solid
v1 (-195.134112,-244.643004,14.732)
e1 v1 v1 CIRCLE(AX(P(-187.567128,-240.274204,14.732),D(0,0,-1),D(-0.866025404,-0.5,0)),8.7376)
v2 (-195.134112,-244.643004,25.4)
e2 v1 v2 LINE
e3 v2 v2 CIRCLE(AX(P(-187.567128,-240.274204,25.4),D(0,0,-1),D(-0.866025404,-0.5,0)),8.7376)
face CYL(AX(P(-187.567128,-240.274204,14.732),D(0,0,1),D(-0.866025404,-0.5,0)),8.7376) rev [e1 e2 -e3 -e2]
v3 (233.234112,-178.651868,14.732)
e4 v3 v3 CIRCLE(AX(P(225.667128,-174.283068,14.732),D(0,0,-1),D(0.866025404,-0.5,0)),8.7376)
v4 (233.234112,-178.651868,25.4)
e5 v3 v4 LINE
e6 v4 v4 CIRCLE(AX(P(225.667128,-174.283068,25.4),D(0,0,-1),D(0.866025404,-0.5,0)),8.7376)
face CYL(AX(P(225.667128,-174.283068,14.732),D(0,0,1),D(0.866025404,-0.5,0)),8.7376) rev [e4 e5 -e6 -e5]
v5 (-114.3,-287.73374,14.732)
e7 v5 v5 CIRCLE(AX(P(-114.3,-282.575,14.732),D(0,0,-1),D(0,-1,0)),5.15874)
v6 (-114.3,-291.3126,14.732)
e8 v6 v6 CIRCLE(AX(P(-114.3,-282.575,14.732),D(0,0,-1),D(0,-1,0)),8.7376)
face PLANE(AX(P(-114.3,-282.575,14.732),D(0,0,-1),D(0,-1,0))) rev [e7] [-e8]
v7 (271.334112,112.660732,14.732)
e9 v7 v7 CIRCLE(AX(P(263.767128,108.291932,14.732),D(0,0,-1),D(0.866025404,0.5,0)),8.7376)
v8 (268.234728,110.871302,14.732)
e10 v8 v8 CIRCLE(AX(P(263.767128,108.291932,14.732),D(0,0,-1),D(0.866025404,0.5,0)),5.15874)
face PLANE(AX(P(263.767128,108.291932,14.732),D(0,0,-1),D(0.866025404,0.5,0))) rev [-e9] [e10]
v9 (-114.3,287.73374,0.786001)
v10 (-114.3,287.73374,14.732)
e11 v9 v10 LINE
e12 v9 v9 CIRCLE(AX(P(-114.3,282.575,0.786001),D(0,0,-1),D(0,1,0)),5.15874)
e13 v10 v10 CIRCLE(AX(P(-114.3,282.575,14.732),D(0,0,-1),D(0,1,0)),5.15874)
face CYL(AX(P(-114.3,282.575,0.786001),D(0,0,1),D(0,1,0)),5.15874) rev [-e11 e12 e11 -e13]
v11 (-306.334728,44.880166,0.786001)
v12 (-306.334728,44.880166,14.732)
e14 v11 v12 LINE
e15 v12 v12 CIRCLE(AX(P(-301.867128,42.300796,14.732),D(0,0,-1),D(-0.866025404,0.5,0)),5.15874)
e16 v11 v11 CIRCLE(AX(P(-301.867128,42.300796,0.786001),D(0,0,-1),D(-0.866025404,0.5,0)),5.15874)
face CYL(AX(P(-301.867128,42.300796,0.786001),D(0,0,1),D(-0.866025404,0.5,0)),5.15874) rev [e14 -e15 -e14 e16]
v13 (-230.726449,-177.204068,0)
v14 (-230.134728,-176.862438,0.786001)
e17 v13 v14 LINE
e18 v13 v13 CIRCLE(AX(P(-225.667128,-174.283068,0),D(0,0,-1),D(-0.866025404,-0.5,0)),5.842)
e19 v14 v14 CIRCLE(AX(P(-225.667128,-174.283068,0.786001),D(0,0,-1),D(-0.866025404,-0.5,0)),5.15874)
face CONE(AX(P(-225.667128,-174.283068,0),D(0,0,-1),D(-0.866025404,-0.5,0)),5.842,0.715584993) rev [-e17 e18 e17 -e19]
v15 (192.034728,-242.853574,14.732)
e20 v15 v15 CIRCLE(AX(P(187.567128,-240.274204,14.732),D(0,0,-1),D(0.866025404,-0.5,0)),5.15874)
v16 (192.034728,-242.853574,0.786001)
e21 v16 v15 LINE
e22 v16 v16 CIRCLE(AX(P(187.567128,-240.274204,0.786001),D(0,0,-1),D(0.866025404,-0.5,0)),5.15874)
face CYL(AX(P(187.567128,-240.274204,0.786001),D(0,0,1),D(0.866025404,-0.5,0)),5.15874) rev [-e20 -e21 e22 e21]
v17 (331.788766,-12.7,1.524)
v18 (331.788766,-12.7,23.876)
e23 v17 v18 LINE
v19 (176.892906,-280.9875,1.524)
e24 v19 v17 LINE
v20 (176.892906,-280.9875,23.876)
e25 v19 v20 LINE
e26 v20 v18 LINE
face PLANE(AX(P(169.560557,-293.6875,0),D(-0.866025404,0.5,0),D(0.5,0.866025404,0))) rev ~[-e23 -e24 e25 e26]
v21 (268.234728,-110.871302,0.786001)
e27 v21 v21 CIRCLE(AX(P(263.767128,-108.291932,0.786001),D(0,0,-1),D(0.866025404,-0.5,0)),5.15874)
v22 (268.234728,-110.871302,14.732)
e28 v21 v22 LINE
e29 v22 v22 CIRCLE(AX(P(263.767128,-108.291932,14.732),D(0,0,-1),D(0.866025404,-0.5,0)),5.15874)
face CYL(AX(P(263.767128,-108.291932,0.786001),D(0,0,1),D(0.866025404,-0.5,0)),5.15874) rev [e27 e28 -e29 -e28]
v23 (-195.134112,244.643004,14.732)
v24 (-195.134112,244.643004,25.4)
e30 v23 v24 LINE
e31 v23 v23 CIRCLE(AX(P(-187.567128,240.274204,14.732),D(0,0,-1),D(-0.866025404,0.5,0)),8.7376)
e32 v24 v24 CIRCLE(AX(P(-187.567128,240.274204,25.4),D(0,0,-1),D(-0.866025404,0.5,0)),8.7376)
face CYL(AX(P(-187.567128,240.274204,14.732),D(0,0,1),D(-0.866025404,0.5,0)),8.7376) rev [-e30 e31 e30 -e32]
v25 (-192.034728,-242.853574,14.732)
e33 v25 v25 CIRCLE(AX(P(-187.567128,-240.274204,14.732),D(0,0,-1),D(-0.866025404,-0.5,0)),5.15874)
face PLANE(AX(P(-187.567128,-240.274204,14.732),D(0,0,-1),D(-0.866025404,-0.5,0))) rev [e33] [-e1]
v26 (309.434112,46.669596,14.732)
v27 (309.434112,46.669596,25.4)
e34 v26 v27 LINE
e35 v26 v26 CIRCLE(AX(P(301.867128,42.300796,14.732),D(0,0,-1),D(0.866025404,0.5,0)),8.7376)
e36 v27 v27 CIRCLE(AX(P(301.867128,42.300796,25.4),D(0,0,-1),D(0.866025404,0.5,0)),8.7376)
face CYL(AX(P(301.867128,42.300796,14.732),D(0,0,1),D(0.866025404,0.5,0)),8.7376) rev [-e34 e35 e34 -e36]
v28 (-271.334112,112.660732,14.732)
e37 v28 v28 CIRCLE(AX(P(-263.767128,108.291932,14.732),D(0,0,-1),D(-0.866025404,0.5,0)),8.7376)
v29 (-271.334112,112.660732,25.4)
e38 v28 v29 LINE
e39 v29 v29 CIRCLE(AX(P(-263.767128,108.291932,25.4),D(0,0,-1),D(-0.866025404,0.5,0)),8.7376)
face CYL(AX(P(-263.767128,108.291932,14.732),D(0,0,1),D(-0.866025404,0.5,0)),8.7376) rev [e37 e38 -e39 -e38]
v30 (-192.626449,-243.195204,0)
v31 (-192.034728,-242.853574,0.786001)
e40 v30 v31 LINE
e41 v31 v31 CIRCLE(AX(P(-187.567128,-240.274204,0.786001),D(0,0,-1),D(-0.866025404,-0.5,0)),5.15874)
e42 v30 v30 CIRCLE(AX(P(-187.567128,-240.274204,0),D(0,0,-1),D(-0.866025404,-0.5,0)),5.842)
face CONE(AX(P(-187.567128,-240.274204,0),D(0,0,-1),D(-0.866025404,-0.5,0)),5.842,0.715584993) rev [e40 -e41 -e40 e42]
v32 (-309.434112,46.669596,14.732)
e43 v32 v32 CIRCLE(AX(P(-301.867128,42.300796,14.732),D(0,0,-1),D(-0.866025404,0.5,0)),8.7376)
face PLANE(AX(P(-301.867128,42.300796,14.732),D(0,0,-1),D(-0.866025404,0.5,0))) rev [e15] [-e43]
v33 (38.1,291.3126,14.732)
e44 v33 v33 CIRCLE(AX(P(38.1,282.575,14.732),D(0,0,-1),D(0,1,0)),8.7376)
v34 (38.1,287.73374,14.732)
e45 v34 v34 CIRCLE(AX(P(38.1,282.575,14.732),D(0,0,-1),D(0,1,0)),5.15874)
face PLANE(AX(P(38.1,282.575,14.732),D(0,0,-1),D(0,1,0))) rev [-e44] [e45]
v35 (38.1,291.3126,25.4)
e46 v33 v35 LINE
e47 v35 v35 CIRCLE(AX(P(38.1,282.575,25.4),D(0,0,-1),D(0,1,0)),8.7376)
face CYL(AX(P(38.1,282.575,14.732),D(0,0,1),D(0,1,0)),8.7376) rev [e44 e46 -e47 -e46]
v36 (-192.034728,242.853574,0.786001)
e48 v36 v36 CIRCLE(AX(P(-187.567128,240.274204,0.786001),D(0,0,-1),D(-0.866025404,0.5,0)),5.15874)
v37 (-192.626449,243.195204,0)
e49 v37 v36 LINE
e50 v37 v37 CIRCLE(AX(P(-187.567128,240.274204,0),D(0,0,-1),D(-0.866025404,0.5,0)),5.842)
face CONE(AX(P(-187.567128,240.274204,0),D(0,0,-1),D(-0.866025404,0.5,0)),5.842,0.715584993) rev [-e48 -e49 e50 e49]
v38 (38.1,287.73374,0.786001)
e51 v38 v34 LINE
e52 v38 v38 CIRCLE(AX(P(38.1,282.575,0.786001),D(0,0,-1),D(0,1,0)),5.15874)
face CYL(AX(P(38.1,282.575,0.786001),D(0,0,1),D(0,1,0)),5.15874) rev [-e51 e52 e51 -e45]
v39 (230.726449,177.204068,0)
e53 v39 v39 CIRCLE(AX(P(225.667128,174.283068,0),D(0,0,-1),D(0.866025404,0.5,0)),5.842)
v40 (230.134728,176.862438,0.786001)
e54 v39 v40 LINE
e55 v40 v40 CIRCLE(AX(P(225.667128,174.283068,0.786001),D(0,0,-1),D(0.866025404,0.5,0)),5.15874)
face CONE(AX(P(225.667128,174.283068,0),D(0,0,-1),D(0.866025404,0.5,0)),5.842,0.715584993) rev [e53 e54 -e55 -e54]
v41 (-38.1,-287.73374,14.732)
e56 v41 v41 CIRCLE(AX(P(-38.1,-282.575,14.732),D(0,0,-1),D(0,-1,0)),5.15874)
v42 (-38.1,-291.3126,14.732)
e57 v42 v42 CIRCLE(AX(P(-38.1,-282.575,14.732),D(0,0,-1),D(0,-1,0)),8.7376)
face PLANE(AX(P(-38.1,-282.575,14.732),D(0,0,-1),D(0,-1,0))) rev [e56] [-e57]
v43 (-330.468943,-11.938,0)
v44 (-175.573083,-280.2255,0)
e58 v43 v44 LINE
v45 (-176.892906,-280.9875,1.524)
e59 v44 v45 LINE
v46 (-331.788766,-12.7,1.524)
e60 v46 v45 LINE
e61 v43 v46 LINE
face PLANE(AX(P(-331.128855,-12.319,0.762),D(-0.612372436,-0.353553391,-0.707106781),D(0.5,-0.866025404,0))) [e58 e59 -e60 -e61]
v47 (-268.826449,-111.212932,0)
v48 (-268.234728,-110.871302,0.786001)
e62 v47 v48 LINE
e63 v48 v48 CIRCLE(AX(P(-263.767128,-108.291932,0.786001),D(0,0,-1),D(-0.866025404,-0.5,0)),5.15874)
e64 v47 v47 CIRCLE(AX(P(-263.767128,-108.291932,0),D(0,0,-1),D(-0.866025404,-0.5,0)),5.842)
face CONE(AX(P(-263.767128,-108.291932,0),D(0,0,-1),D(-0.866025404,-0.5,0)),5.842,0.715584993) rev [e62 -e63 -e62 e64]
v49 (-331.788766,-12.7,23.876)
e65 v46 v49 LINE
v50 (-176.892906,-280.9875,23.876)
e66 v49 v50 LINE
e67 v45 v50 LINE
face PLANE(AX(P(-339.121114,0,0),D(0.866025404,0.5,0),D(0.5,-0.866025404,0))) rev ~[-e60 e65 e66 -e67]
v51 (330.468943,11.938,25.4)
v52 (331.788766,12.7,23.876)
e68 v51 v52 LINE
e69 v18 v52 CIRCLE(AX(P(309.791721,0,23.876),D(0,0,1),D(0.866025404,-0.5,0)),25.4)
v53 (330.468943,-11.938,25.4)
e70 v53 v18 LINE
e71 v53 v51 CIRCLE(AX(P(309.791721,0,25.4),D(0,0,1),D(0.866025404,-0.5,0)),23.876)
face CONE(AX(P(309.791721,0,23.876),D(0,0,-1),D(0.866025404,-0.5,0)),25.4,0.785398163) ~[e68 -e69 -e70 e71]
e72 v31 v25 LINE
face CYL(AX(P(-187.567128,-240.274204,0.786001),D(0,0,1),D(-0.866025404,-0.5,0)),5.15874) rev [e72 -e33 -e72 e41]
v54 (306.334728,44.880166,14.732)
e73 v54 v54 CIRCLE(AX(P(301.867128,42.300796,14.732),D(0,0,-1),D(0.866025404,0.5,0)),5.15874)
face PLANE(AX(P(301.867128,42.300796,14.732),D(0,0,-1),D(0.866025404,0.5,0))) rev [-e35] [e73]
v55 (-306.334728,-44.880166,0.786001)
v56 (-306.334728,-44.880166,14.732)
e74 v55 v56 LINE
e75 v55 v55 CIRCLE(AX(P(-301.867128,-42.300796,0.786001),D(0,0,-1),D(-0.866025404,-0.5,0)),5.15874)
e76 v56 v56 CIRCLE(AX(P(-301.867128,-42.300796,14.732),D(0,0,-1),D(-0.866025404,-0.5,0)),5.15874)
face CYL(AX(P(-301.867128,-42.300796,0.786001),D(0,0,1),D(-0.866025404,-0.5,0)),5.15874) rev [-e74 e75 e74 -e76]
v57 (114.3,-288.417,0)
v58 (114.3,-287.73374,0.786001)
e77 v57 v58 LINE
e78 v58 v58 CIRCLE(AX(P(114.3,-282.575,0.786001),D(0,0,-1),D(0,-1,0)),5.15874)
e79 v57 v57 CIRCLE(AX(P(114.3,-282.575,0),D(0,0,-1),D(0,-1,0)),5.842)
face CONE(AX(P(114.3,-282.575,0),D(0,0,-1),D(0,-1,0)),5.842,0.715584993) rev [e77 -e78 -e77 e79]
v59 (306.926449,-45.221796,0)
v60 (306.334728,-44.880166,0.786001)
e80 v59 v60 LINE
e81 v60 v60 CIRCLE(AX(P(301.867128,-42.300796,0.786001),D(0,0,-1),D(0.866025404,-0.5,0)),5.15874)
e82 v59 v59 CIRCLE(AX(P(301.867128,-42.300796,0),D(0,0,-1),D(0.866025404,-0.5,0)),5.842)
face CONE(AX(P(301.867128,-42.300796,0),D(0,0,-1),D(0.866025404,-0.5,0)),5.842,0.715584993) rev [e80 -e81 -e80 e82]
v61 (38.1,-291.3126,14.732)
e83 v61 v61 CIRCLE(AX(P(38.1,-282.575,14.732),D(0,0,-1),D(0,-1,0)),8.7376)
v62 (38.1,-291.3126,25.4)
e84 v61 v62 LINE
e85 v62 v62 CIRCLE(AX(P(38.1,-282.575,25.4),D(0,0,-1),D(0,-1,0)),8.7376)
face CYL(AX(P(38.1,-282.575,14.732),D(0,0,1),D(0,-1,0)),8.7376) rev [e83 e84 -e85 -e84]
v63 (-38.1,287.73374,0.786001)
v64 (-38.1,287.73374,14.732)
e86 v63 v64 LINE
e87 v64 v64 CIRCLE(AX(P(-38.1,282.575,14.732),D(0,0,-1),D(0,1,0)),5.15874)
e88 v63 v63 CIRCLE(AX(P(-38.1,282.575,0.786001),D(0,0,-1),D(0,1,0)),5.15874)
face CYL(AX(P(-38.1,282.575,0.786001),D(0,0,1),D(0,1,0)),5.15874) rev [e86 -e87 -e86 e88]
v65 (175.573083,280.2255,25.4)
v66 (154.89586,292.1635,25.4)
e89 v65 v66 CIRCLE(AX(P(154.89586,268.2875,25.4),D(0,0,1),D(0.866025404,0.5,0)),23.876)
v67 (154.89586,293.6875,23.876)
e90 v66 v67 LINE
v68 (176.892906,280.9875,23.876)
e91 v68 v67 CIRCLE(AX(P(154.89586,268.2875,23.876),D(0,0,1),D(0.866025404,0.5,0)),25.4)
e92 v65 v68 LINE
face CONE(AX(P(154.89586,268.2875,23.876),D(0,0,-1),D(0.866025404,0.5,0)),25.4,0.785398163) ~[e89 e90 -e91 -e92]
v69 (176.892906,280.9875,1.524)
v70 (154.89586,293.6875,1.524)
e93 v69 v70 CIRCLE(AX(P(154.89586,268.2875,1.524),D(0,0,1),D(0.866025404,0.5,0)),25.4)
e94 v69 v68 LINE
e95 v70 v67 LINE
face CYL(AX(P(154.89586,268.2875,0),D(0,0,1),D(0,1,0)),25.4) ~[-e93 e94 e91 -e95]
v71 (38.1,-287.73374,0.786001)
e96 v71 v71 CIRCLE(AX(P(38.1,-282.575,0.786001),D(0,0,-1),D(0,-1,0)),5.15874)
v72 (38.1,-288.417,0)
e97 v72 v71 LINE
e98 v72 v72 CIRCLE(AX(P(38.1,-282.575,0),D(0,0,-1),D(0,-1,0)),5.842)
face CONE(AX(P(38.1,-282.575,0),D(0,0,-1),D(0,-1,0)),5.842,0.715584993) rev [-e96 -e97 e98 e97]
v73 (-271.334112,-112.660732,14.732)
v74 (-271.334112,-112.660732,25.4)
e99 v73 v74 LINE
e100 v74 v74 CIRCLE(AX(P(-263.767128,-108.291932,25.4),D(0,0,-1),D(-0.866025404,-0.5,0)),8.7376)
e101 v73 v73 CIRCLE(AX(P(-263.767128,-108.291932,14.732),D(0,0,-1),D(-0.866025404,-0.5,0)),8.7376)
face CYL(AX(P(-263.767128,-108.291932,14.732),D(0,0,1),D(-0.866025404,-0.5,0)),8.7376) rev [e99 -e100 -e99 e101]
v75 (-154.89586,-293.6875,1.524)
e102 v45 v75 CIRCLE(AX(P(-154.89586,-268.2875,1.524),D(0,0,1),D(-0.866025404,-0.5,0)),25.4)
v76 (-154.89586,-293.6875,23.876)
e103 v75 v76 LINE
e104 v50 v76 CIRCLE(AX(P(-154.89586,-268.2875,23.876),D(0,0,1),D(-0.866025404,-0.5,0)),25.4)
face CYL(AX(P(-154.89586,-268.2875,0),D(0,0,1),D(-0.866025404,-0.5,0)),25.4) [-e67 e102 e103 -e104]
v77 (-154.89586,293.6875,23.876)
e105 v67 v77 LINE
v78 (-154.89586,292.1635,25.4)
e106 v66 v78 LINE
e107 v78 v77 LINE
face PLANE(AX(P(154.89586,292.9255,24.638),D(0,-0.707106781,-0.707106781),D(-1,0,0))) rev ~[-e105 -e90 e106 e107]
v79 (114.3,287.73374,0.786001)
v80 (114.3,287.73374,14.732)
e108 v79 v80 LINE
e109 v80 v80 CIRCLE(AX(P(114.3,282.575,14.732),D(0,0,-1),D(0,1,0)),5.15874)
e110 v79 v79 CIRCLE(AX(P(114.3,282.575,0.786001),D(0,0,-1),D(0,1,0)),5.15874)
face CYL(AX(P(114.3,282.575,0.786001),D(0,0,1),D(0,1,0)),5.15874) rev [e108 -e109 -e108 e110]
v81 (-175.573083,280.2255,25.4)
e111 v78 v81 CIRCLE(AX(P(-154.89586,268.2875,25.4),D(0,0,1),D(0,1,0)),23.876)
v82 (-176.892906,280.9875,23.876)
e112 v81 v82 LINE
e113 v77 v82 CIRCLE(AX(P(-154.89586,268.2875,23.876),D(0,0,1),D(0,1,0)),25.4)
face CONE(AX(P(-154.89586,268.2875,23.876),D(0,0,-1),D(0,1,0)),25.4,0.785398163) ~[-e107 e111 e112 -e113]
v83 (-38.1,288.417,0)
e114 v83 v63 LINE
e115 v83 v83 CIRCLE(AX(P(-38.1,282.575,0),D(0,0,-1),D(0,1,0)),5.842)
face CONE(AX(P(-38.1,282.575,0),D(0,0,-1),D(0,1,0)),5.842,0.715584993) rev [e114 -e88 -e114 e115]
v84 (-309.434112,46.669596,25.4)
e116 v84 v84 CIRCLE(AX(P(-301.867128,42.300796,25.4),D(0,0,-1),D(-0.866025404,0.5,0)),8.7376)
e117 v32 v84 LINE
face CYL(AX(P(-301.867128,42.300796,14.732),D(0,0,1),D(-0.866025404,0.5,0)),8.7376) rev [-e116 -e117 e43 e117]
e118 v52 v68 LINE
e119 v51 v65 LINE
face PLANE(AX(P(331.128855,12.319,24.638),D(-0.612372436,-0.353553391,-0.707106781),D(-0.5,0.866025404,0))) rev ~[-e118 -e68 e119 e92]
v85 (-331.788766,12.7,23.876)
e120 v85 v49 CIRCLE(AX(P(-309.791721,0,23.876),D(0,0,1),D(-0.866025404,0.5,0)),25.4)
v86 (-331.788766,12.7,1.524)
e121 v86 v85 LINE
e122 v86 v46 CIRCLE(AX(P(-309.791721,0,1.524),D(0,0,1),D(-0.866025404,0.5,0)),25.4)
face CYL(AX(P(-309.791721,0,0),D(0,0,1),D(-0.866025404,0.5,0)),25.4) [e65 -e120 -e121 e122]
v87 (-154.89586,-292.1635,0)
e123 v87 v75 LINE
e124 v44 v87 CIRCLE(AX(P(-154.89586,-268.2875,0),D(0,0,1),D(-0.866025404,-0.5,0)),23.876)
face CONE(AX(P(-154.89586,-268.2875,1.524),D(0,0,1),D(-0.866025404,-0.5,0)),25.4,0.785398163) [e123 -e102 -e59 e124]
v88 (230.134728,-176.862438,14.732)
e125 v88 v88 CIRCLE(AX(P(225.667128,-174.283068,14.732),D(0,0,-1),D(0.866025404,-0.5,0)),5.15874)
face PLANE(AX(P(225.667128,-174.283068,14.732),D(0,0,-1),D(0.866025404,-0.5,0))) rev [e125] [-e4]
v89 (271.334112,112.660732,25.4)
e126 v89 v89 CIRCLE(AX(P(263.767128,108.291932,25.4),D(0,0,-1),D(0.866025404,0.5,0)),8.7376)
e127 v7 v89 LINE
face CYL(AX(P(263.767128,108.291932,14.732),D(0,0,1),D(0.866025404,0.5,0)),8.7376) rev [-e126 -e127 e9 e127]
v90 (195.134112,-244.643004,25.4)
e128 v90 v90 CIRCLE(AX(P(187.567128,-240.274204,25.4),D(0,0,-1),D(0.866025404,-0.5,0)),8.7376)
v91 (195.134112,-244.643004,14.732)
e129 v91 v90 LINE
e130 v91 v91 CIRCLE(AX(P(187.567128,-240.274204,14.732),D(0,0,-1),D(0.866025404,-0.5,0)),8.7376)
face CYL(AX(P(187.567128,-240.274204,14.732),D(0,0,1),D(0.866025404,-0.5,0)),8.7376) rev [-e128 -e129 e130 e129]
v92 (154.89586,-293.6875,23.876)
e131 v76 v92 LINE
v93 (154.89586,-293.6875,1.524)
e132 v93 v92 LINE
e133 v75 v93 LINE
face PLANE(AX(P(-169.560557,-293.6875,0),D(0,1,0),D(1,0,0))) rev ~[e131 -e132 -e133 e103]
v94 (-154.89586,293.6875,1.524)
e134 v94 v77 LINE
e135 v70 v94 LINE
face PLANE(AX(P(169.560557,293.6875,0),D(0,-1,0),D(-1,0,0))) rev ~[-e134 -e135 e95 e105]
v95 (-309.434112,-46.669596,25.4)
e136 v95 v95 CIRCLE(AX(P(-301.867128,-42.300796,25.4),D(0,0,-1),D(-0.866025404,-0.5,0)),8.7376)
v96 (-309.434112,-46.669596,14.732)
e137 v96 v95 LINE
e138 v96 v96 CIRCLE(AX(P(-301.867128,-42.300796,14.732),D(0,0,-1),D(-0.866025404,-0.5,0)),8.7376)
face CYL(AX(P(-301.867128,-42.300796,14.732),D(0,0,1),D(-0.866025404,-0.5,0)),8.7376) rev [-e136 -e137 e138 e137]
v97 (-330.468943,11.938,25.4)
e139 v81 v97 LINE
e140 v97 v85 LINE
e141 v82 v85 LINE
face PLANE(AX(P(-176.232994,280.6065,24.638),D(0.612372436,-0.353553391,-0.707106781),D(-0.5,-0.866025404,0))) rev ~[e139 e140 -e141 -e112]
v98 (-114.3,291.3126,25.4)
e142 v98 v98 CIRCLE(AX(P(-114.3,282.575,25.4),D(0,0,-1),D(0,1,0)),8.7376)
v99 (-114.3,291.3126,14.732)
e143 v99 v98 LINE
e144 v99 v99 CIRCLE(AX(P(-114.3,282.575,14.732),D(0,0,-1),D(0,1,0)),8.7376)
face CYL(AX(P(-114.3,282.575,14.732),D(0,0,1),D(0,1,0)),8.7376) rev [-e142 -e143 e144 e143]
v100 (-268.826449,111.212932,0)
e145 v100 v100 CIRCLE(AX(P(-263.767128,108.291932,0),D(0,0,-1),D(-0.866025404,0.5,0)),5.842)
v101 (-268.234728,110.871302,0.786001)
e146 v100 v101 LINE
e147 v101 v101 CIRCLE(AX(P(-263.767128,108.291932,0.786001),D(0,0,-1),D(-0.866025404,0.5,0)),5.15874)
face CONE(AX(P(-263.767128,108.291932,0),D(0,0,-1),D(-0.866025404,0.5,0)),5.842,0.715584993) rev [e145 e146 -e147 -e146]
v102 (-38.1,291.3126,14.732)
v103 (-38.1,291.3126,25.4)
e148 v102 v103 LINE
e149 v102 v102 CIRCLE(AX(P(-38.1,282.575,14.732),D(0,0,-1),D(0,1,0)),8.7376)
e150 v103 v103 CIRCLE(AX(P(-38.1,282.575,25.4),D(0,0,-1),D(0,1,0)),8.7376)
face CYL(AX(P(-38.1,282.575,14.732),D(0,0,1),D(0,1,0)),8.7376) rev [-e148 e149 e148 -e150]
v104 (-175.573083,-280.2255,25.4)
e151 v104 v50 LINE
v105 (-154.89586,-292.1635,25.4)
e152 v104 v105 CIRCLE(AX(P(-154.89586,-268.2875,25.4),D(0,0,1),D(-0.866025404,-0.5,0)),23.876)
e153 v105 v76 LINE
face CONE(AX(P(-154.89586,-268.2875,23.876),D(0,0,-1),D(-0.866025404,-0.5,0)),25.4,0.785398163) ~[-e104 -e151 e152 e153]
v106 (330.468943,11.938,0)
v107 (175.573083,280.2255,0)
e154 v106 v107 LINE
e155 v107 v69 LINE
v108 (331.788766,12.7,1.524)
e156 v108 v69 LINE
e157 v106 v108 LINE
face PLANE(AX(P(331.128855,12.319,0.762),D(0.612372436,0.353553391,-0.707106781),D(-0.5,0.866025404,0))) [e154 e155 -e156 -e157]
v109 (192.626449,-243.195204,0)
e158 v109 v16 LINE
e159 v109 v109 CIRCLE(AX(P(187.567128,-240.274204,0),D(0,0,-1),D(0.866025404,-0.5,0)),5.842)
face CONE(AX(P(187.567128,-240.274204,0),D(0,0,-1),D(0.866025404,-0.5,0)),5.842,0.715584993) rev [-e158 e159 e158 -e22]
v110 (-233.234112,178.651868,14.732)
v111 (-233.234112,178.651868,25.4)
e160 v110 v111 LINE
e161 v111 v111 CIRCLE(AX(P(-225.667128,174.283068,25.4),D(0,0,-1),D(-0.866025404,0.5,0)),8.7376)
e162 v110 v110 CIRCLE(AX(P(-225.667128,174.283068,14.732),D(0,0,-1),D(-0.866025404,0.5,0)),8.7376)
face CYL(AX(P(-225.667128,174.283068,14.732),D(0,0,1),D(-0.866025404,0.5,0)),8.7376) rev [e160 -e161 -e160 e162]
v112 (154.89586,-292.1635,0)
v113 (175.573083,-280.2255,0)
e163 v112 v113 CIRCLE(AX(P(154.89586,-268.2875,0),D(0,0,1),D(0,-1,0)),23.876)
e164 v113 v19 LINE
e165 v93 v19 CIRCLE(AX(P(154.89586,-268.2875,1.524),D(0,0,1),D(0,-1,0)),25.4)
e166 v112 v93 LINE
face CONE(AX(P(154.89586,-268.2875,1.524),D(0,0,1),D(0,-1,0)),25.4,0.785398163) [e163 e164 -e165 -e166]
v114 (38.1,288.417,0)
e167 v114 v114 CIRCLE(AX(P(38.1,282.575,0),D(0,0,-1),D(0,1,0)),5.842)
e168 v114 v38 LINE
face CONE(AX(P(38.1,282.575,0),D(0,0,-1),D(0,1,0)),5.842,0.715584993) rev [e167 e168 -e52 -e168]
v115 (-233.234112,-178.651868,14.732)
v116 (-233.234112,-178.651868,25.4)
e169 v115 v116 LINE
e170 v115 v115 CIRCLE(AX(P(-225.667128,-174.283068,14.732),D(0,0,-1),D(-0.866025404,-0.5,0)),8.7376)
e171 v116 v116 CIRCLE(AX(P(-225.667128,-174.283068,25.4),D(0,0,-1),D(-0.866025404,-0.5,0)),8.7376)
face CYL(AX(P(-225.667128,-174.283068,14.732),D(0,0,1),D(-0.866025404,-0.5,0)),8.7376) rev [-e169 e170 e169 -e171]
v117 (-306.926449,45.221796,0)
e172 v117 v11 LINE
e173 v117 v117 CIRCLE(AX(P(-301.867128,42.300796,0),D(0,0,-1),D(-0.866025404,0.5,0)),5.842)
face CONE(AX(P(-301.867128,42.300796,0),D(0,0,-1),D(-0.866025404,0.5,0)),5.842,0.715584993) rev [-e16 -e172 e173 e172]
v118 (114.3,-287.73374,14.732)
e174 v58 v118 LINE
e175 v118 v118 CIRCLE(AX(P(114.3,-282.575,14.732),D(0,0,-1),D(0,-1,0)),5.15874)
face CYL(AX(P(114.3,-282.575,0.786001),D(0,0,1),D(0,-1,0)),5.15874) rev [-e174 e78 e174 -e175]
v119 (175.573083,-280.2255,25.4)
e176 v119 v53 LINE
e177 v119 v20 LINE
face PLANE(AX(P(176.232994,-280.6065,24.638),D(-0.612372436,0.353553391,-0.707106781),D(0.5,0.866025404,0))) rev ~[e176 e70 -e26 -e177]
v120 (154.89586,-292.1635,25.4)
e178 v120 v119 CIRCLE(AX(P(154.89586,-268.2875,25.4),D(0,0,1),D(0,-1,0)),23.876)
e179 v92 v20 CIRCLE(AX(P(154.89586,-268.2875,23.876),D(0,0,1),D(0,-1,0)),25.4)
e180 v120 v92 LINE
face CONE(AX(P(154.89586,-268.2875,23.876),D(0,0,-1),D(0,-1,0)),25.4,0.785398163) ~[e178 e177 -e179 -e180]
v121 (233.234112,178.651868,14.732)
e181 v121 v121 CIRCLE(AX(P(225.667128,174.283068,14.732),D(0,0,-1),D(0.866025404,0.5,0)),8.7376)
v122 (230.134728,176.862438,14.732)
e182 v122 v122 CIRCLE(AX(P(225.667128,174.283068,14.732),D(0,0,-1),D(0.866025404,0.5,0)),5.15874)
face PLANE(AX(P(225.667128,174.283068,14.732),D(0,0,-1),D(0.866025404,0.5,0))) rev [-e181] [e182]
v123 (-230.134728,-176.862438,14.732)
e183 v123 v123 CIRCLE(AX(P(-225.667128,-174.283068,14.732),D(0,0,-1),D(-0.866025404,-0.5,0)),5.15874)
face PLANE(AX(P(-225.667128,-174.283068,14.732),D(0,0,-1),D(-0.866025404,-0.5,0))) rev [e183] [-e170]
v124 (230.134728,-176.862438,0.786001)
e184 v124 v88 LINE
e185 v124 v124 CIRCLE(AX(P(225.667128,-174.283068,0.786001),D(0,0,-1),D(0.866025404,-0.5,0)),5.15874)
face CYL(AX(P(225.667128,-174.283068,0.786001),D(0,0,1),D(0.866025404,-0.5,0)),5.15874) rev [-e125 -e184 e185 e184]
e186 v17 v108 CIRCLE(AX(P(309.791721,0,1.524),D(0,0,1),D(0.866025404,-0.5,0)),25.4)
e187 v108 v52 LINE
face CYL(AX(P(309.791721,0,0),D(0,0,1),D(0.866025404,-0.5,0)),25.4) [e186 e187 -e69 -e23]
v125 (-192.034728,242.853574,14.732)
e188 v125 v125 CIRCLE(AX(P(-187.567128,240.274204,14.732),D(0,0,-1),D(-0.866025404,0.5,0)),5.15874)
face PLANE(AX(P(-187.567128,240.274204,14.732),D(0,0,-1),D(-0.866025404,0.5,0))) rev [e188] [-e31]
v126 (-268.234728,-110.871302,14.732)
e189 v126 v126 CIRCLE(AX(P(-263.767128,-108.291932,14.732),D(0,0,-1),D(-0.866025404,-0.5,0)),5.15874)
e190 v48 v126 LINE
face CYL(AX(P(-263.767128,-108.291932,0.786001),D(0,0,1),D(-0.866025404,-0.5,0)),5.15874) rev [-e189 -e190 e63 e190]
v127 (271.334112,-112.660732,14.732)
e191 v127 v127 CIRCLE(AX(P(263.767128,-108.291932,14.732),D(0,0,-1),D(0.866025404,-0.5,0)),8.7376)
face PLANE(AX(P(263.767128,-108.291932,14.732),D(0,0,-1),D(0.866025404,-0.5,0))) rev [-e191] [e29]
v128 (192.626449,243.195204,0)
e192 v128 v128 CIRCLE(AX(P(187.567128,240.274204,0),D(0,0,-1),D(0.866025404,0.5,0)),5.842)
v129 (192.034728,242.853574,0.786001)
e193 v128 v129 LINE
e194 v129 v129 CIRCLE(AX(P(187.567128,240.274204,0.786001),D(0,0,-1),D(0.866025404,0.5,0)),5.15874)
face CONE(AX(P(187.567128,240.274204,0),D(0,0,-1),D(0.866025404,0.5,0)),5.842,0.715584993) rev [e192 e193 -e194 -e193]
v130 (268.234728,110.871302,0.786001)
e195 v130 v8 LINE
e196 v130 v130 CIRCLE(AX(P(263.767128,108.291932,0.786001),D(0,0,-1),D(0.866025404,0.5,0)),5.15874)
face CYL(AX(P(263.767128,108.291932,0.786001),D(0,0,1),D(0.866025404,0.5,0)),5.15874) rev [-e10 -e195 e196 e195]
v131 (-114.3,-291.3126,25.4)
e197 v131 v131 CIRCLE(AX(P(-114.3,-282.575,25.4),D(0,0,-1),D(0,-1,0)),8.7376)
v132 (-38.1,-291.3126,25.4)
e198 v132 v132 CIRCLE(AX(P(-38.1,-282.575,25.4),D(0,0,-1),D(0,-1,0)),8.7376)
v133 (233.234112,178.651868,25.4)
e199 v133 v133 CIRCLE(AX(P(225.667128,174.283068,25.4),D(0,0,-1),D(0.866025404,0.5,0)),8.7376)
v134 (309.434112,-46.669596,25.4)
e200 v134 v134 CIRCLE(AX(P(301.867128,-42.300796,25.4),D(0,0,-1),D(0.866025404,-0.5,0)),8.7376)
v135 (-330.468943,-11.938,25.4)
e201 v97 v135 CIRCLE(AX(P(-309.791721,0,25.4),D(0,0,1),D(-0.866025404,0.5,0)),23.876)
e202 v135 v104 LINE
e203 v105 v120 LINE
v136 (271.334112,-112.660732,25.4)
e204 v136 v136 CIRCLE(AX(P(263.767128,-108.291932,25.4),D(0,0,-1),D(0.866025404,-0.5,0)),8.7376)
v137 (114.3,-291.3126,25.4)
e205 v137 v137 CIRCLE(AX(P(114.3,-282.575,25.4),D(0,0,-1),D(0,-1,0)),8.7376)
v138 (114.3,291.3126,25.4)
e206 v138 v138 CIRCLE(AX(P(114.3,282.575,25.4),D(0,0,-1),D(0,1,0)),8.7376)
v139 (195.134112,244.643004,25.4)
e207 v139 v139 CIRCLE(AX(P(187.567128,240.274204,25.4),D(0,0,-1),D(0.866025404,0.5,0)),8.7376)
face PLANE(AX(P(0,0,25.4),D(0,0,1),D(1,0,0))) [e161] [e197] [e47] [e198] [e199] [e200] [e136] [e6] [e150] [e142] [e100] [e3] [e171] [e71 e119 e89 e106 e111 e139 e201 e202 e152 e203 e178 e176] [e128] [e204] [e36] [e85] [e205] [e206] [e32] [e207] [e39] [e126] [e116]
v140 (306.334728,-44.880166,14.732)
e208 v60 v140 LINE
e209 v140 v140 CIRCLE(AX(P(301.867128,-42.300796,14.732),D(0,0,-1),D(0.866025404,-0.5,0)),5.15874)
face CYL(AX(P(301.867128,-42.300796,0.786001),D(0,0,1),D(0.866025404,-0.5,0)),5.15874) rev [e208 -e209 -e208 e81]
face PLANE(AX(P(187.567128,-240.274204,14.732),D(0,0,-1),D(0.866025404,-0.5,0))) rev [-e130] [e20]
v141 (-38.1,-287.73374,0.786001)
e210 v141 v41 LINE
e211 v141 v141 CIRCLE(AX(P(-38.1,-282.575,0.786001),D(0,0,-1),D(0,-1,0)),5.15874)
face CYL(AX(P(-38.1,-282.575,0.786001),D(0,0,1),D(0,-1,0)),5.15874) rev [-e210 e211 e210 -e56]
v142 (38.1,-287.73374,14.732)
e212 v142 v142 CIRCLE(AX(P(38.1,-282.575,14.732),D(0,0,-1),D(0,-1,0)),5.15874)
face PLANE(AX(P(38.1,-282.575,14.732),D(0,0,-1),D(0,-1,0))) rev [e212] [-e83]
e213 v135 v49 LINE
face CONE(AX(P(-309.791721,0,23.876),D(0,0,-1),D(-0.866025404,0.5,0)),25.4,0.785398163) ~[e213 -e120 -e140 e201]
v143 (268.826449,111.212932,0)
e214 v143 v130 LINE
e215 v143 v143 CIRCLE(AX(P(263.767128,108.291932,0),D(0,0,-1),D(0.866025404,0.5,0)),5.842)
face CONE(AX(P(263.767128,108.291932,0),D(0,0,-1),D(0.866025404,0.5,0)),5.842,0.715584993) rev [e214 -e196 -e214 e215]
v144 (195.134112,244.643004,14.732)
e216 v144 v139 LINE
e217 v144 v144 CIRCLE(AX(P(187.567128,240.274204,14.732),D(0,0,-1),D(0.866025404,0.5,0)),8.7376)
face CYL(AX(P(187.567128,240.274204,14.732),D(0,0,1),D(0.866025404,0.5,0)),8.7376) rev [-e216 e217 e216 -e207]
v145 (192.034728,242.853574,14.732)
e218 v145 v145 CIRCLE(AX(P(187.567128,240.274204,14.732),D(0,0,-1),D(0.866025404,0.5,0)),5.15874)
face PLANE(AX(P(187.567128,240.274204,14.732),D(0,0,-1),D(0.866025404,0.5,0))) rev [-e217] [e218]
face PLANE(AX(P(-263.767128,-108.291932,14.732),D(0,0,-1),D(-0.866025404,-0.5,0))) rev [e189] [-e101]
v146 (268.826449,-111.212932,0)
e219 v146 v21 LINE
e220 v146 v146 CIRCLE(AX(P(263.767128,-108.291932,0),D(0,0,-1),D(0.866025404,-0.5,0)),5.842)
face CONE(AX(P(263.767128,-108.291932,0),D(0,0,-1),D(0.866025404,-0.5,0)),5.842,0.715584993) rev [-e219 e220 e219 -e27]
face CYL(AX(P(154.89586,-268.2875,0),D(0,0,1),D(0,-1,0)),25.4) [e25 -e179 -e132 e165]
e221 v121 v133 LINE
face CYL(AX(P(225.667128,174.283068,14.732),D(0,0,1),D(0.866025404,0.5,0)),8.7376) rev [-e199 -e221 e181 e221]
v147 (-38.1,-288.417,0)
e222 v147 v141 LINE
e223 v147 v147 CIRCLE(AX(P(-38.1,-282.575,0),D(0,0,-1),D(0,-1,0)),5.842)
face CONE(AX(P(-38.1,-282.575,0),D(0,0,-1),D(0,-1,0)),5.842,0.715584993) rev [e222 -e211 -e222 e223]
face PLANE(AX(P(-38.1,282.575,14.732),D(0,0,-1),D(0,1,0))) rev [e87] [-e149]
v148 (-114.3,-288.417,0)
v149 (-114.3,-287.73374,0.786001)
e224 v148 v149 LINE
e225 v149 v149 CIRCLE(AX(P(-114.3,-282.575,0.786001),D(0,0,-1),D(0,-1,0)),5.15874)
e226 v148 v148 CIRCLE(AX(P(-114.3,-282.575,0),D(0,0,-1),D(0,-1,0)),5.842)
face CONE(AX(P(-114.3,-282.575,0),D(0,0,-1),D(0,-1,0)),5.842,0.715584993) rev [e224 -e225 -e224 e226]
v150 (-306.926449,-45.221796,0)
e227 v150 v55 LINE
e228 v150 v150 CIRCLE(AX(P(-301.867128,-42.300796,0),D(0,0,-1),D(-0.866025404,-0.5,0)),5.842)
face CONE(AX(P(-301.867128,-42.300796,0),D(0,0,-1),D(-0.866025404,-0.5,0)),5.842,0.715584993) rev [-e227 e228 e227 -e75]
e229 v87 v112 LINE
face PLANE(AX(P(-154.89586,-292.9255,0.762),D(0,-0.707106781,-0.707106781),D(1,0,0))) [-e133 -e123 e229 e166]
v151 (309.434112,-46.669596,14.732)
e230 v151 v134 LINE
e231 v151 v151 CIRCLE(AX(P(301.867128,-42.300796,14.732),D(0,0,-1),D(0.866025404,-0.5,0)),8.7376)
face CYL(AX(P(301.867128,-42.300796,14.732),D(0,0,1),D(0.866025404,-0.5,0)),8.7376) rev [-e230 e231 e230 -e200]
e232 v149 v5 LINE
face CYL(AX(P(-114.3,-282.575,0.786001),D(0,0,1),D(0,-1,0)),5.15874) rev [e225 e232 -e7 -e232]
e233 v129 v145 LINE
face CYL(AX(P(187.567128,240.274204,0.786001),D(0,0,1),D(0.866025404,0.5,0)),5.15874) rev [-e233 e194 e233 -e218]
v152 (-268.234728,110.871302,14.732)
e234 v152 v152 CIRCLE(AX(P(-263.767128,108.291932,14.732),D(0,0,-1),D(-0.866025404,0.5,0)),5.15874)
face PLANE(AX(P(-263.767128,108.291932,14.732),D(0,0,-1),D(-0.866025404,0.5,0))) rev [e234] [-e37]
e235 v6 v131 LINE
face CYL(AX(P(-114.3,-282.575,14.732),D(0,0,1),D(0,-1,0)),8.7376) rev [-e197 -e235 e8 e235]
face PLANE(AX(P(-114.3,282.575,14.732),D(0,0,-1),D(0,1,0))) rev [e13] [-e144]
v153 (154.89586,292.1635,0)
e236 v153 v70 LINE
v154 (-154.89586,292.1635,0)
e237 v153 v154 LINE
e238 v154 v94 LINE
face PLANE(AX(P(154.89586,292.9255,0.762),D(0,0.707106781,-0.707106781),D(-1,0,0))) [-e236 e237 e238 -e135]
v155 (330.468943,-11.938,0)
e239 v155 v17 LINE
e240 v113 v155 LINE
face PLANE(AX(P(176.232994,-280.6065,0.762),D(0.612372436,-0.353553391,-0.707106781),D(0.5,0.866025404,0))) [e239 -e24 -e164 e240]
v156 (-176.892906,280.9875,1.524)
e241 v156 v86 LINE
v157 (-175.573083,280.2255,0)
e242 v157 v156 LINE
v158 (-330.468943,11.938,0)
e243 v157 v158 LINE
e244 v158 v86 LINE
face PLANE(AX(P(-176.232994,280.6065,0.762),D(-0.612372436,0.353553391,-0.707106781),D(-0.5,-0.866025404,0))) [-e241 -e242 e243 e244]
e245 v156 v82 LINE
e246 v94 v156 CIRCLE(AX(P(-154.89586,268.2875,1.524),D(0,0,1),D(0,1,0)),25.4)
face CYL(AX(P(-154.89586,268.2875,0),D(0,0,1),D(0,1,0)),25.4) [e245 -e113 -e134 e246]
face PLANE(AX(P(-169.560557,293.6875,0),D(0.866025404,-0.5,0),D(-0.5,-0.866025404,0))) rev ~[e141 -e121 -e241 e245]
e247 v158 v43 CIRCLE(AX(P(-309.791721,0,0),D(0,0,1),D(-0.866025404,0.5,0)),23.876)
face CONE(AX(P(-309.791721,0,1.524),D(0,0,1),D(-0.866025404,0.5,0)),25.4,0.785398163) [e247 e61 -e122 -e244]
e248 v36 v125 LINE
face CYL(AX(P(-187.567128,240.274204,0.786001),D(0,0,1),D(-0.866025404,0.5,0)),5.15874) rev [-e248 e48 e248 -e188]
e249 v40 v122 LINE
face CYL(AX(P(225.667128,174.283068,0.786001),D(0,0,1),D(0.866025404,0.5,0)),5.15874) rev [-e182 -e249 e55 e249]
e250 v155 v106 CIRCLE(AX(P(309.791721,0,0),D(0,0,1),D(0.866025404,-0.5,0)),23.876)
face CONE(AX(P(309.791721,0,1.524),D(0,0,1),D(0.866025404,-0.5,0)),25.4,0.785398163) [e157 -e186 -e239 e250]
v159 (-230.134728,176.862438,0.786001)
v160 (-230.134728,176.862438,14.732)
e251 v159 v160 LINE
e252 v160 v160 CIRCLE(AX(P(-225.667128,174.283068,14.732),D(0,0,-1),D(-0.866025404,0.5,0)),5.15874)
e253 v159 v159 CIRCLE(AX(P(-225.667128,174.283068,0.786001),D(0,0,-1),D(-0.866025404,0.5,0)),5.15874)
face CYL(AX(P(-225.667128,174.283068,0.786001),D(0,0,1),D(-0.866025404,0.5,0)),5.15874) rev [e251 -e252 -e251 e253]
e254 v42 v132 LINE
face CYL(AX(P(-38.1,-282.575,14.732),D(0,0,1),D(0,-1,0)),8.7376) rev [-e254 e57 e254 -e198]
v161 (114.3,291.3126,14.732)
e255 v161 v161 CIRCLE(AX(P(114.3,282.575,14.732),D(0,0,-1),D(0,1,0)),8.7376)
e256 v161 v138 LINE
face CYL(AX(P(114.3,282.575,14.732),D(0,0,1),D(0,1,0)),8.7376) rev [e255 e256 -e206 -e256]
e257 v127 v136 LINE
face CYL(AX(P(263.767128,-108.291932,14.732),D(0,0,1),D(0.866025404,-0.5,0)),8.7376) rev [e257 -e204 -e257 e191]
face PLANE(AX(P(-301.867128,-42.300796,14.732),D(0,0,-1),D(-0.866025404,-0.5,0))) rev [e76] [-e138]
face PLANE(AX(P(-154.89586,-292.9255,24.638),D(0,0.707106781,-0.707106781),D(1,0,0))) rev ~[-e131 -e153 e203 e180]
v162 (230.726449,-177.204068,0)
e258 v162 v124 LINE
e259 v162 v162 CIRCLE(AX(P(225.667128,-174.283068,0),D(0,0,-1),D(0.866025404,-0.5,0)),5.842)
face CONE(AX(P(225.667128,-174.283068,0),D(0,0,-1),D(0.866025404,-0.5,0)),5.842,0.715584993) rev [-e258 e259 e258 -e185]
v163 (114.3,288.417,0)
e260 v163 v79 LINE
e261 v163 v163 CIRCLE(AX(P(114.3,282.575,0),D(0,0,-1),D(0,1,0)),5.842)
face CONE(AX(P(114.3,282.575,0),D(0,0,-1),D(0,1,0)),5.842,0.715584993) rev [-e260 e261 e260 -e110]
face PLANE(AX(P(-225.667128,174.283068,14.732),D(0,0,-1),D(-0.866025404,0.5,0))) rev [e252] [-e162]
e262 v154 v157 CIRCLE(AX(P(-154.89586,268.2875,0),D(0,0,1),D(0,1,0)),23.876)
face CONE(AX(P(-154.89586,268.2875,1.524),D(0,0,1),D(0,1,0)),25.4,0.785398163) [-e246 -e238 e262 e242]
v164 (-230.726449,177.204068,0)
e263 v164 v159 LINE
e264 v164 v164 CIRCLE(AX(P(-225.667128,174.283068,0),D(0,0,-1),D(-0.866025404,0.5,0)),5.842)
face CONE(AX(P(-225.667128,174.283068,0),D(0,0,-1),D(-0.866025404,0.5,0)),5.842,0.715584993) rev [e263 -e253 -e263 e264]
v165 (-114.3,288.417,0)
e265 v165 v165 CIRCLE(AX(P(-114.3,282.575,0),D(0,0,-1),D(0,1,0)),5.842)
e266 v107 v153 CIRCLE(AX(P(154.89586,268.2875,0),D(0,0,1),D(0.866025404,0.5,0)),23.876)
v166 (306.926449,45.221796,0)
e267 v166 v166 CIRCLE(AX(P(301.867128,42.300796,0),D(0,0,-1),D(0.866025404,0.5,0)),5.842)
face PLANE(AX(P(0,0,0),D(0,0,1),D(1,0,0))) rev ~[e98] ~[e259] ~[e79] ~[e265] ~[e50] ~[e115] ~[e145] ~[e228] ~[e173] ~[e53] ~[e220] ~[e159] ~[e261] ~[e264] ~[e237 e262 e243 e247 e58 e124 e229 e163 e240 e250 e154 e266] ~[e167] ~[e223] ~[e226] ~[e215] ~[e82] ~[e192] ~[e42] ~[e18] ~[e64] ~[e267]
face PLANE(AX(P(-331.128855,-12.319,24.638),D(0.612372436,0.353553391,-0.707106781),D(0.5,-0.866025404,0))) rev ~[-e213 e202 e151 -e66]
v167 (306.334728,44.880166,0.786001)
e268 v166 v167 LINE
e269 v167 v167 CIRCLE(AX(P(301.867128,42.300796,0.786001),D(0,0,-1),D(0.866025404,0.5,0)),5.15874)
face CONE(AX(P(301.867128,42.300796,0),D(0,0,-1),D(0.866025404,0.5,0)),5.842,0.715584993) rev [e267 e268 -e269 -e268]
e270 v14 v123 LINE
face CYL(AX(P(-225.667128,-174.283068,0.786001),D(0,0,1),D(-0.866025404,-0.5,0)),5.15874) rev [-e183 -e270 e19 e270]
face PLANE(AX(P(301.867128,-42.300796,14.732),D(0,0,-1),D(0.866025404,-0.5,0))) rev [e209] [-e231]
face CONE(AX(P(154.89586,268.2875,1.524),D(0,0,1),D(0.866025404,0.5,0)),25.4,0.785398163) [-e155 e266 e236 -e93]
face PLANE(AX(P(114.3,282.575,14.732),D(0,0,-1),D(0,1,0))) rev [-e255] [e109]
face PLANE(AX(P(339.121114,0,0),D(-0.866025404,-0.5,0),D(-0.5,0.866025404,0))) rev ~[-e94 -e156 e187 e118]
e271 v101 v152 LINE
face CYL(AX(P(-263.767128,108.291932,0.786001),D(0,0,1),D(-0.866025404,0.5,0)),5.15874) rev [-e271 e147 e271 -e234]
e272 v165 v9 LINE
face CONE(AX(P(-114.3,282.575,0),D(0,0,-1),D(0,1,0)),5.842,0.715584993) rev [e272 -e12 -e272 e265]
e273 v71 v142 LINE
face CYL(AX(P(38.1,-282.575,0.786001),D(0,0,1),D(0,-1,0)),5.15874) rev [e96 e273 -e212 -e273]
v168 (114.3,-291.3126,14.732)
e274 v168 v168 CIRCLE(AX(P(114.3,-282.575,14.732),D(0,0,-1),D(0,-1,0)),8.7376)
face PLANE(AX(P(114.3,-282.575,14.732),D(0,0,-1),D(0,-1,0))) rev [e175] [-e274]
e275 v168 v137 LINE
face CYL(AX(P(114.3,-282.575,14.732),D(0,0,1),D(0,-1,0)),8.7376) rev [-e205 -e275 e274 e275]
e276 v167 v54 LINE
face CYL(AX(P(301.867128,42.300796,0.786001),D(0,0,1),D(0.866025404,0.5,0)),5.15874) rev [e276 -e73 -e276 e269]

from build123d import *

# Parameters (mm, degrees)
EXTRUDE1_DEPTH                                = 25.4
FILLET1_R                                     = 25.4
CHAMFER1_SIZE                                 = 1.524
CBORE_FOR_3_8_SOCKET_HEAD_CAP_SCREW1_AT_COUNT = 2
CBORE_FOR_3_8_SOCKET_HEAD_CAP_SCREW1_AT_PITCH = 76.2
CBORE_FOR_3_8_SOCKET_HEAD_CAP_SCREW1_2_COUNT  = 2
CBORE_FOR_3_8_SOCKET_HEAD_CAP_SCREW1_2_PITCH  = 76.2
CBORE_FOR_3_8_SOCKET_HEAD_CAP_SCREW1_3_COUNT  = 2
CBORE_FOR_3_8_SOCKET_HEAD_CAP_SCREW1_3_PITCH  = 152.4
CIRPATTERN1_COUNT                             = 6


with BuildPart() as part:
    # Sketch1 → Extrude1 (new body)
    with BuildSketch(Plane.XY):
        Polygon((169.560557183, 293.6875), (-169.560557183, 293.6875), (-339.121114365, 0), (-169.560557183, -293.6875), (169.560557183, -293.6875), (339.121114365, 0), align=None)
    extrude(amount=EXTRUDE1_DEPTH)

    # Fillet1
    fillet1_edges = [part.edges().sort_by_distance(p)[0] for p in [
        (-169.560557183, -293.6875, 12.7),
        (-339.121114365, 0, 12.7),
        (-169.560557183, 293.6875, 12.7),
        (169.560557183, 293.6875, 12.7),
        (339.121114365, 0, 12.7),
        (169.560557183, -293.6875, 12.7),
    ]]
    fillet(fillet1_edges, radius=FILLET1_R)

    # Chamfer1
    chamfer1_edges = [part.edges().sort_by_distance(p)[0] for p in [
        (-254.340835774, -146.84375, 0),
        (-254.340835774, -146.84375, 25.4),
        (254.340835774, 146.84375, 0),
        (254.340835774, -146.84375, 0),
        (0, -293.6875, 0),
        (-254.340835774, 146.84375, 0),
        (0, 293.6875, 0),
        (167.595860345, 290.284545256, 0),
        (-167.595860345, 290.284545256, 0),
        (335.19172069, 0, 0),
        (167.595860345, -290.284545256, 0),
        (-167.595860345, -290.284545256, 0),
        (-335.19172069, 0, 0),
        (-254.340835774, 146.84375, 25.4),
        (254.340835774, 146.84375, 25.4),
        (0, 293.6875, 25.4),
        (0, -293.6875, 25.4),
        (254.340835774, -146.84375, 25.4),
        (167.595860345, 290.284545256, 25.4),
        (-167.595860345, 290.284545256, 25.4),
        (335.19172069, 0, 25.4),
        (167.595860345, -290.284545256, 25.4),
        (-167.595860345, -290.284545256, 25.4),
        (-335.19172069, 0, 25.4),
    ]]
    chamfer(chamfer1_edges, length=CHAMFER1_SIZE)

    # Sketch2 → CBORE for 3_8 Socket Head Cap Screw1 (revolve, cut)
    with BuildSketch(Plane(origin=(-38.1, -282.575, 25.4), x_dir=(0, -1, 0), z_dir=(1, 0, 0))):
        Polygon((0, 0), (0, 25.4), (5.842, 25.4), (5.15874, 24.613999282), (5.15874, 10.668), (8.7376, 10.668), (8.7376, 0), align=None)
    cbore_for_3_8_socket_head_cap_screw1 = revolve(axis=Axis((-38.1, -282.575, 31.75), (0, 0, -1)), mode=Mode.SUBTRACT)

    # CBORE for 3_8 Socket Head Cap Screw1 at: CBORE for 3_8 Socket Head Cap Screw1 ×2
    with Locations(*[(-i * CBORE_FOR_3_8_SOCKET_HEAD_CAP_SCREW1_AT_PITCH, 0, 0) for i in range(1, CBORE_FOR_3_8_SOCKET_HEAD_CAP_SCREW1_AT_COUNT)]):
        add(cbore_for_3_8_socket_head_cap_screw1, mode=Mode.SUBTRACT)

    # CBORE for 3_8 Socket Head Cap Screw1 2: CBORE for 3_8 Socket Head Cap Screw1 ×2
    with Locations(*[(i * CBORE_FOR_3_8_SOCKET_HEAD_CAP_SCREW1_2_PITCH, 0, 0) for i in range(1, CBORE_FOR_3_8_SOCKET_HEAD_CAP_SCREW1_2_COUNT)]):
        add(cbore_for_3_8_socket_head_cap_screw1, mode=Mode.SUBTRACT)

    # CBORE for 3_8 Socket Head Cap Screw1 3: CBORE for 3_8 Socket Head Cap Screw1 ×2
    with Locations(*[(i * CBORE_FOR_3_8_SOCKET_HEAD_CAP_SCREW1_3_PITCH, 0, 0) for i in range(1, CBORE_FOR_3_8_SOCKET_HEAD_CAP_SCREW1_3_COUNT)]):
        add(cbore_for_3_8_socket_head_cap_screw1, mode=Mode.SUBTRACT)

    # CirPattern1: CBORE for 3_8 Socket Head Cap Screw1 ×6 about axis
    cirpattern1_axis = Axis((0, 0, 0), (0, 0, 1))
    for i in range(1, CIRPATTERN1_COUNT):
        add(cbore_for_3_8_socket_head_cap_screw1.rotate(cirpattern1_axis, i * 360 / CIRPATTERN1_COUNT), mode=Mode.SUBTRACT)

    # CirPattern1 copy 1 sketch → CirPattern1 copy 1 (revolve, cut)
    with BuildSketch(Plane(origin=(187.567128474, -240.274203653, 25.4), x_dir=(0.866025404, -0.5, 0), z_dir=(0.5, 0.866025404, 0))):
        Polygon((0, 0), (0, 25.4), (5.842, 25.4), (5.15874, 24.613999282), (5.15874, 10.668), (8.7376, 10.668), (8.7376, 0), align=None)
    revolve(axis=Axis((187.567128474, -240.274203653, 31.75), (0, 0, -1)), mode=Mode.SUBTRACT)

    # CirPattern1 copy 2 sketch → CirPattern1 copy 2 (revolve, cut)
    with BuildSketch(Plane(origin=(301.867128474, 42.300796347, 25.4), x_dir=(0.866025404, 0.5, 0), z_dir=(-0.5, 0.866025404, 0))):
        Polygon((0, 0), (0, 25.4), (5.842, 25.4), (5.15874, 24.613999282), (5.15874, 10.668), (8.7376, 10.668), (8.7376, 0), align=None)
    revolve(axis=Axis((301.867128474, 42.300796347, 31.75), (0, 0, -1)), mode=Mode.SUBTRACT)

    # CirPattern1 copy 3 sketch → CirPattern1 copy 3 (revolve, cut)
    with BuildSketch(Plane(origin=(114.3, 282.575, 25.4), x_dir=(0, 1, 0), z_dir=(-1, 0, 0))):
        Polygon((0, 0), (0, 25.4), (5.842, 25.4), (5.15874, 24.613999282), (5.15874, 10.668), (8.7376, 10.668), (8.7376, 0), align=None)
    revolve(axis=Axis((114.3, 282.575, 31.75), (0, 0, -1)), mode=Mode.SUBTRACT)

    # CirPattern1 copy 4 sketch → CirPattern1 copy 4 (revolve, cut)
    with BuildSketch(Plane(origin=(-187.567128474, 240.274203653, 25.4), x_dir=(-0.866025404, 0.5, 0), z_dir=(-0.5, -0.866025404, 0))):
        Polygon((0, 0), (0, 25.4), (5.842, 25.4), (5.15874, 24.613999282), (5.15874, 10.668), (8.7376, 10.668), (8.7376, 0), align=None)
    revolve(axis=Axis((-187.567128474, 240.274203653, 31.75), (0, 0, -1)), mode=Mode.SUBTRACT)

    # CirPattern1 copy 5 sketch → CirPattern1 copy 5 (revolve, cut)
    with BuildSketch(Plane(origin=(-301.867128474, -42.300796347, 25.4), x_dir=(-0.866025404, -0.5, 0), z_dir=(0.5, -0.866025404, 0))):
        Polygon((0, 0), (0, 25.4), (5.842, 25.4), (5.15874, 24.613999282), (5.15874, 10.668), (8.7376, 10.668), (8.7376, 0), align=None)
    revolve(axis=Axis((-301.867128474, -42.300796347, 31.75), (0, 0, -1)), mode=Mode.SUBTRACT)

    # CirPattern1 copy 6 sketch → CirPattern1 copy 6 (revolve, cut)
    with BuildSketch(Plane(origin=(263.767128474, -108.291932116, 25.4), x_dir=(0.866025404, -0.5, 0), z_dir=(0.5, 0.866025404, 0))):
        Polygon((0, 0), (0, 25.4), (5.842, 25.4), (5.15874, 24.613999282), (5.15874, 10.668), (8.7376, 10.668), (8.7376, 0), align=None)
    revolve(axis=Axis((263.767128474, -108.291932116, 31.75), (0, 0, -1)), mode=Mode.SUBTRACT)

    # CirPattern1 copy 7 sketch → CirPattern1 copy 7 (revolve, cut)
    with BuildSketch(Plane(origin=(225.667128474, 174.283067884, 25.4), x_dir=(0.866025404, 0.5, 0), z_dir=(-0.5, 0.866025404, 0))):
        Polygon((0, 0), (0, 25.4), (5.842, 25.4), (5.15874, 24.613999282), (5.15874, 10.668), (8.7376, 10.668), (8.7376, 0), align=None)
    revolve(axis=Axis((225.667128474, 174.283067884, 31.75), (0, 0, -1)), mode=Mode.SUBTRACT)

    # CirPattern1 copy 8 sketch → CirPattern1 copy 8 (revolve, cut)
    with BuildSketch(Plane(origin=(-38.1, 282.575, 25.4), x_dir=(0, 1, 0), z_dir=(-1, 0, 0))):
        Polygon((0, 0), (0, 25.4), (5.842, 25.4), (5.15874, 24.613999282), (5.15874, 10.668), (8.7376, 10.668), (8.7376, 0), align=None)
    revolve(axis=Axis((-38.1, 282.575, 31.75), (0, 0, -1)), mode=Mode.SUBTRACT)

    # CirPattern1 copy 9 sketch → CirPattern1 copy 9 (revolve, cut)
    with BuildSketch(Plane(origin=(-263.767128474, 108.291932116, 25.4), x_dir=(-0.866025404, 0.5, 0), z_dir=(-0.5, -0.866025404, 0))):
        Polygon((0, 0), (0, 25.4), (5.842, 25.4), (5.15874, 24.613999282), (5.15874, 10.668), (8.7376, 10.668), (8.7376, 0), align=None)
    revolve(axis=Axis((-263.767128474, 108.291932116, 31.75), (0, 0, -1)), mode=Mode.SUBTRACT)

    # CirPattern1 copy 10 sketch → CirPattern1 copy 10 (revolve, cut)
    with BuildSketch(Plane(origin=(-225.667128474, -174.283067884, 25.4), x_dir=(-0.866025404, -0.5, 0), z_dir=(0.5, -0.866025404, 0))):
        Polygon((0, 0), (0, 25.4), (5.842, 25.4), (5.15874, 24.613999282), (5.15874, 10.668), (8.7376, 10.668), (8.7376, 0), align=None)
    revolve(axis=Axis((-225.667128474, -174.283067884, 31.75), (0, 0, -1)), mode=Mode.SUBTRACT)

    # CirPattern1 copy 11 sketch → CirPattern1 copy 11 (revolve, cut)
    with BuildSketch(Plane(origin=(301.867128474, -42.300796347, 25.4), x_dir=(0.866025404, -0.5, 0), z_dir=(0.5, 0.866025404, 0))):
        Polygon((0, 0), (0, 25.4), (5.842, 25.4), (5.15874, 24.613999282), (5.15874, 10.668), (8.7376, 10.668), (8.7376, 0), align=None)
    revolve(axis=Axis((301.867128474, -42.300796347, 31.75), (0, 0, -1)), mode=Mode.SUBTRACT)

    # CirPattern1 copy 12 sketch → CirPattern1 copy 12 (revolve, cut)
    with BuildSketch(Plane(origin=(187.567128474, 240.274203653, 25.4), x_dir=(0.866025404, 0.5, 0), z_dir=(-0.5, 0.866025404, 0))):
        Polygon((0, 0), (0, 25.4), (5.842, 25.4), (5.15874, 24.613999282), (5.15874, 10.668), (8.7376, 10.668), (8.7376, 0), align=None)
    revolve(axis=Axis((187.567128474, 240.274203653, 31.75), (0, 0, -1)), mode=Mode.SUBTRACT)

    # CirPattern1 copy 13 sketch → CirPattern1 copy 13 (revolve, cut)
    with BuildSketch(Plane(origin=(-114.3, 282.575, 25.4), x_dir=(0, 1, 0), z_dir=(-1, 0, 0))):
        Polygon((0, 0), (0, 25.4), (5.842, 25.4), (5.15874, 24.613999282), (5.15874, 10.668), (8.7376, 10.668), (8.7376, 0), align=None)
    revolve(axis=Axis((-114.3, 282.575, 31.75), (0, 0, -1)), mode=Mode.SUBTRACT)

    # CirPattern1 copy 14 sketch → CirPattern1 copy 14 (revolve, cut)
    with BuildSketch(Plane(origin=(-301.867128474, 42.300796347, 25.4), x_dir=(-0.866025404, 0.5, 0), z_dir=(-0.5, -0.866025404, 0))):
        Polygon((0, 0), (0, 25.4), (5.842, 25.4), (5.15874, 24.613999282), (5.15874, 10.668), (8.7376, 10.668), (8.7376, 0), align=None)
    revolve(axis=Axis((-301.867128474, 42.300796347, 31.75), (0, 0, -1)), mode=Mode.SUBTRACT)

    # CirPattern1 copy 15 sketch → CirPattern1 copy 15 (revolve, cut)
    with BuildSketch(Plane(origin=(-187.567128474, -240.274203653, 25.4), x_dir=(-0.866025404, -0.5, 0), z_dir=(0.5, -0.866025404, 0))):
        Polygon((0, 0), (0, 25.4), (5.842, 25.4), (5.15874, 24.613999282), (5.15874, 10.668), (8.7376, 10.668), (8.7376, 0), align=None)
    revolve(axis=Axis((-187.567128474, -240.274203653, 31.75), (0, 0, -1)), mode=Mode.SUBTRACT)


solid = part.part
